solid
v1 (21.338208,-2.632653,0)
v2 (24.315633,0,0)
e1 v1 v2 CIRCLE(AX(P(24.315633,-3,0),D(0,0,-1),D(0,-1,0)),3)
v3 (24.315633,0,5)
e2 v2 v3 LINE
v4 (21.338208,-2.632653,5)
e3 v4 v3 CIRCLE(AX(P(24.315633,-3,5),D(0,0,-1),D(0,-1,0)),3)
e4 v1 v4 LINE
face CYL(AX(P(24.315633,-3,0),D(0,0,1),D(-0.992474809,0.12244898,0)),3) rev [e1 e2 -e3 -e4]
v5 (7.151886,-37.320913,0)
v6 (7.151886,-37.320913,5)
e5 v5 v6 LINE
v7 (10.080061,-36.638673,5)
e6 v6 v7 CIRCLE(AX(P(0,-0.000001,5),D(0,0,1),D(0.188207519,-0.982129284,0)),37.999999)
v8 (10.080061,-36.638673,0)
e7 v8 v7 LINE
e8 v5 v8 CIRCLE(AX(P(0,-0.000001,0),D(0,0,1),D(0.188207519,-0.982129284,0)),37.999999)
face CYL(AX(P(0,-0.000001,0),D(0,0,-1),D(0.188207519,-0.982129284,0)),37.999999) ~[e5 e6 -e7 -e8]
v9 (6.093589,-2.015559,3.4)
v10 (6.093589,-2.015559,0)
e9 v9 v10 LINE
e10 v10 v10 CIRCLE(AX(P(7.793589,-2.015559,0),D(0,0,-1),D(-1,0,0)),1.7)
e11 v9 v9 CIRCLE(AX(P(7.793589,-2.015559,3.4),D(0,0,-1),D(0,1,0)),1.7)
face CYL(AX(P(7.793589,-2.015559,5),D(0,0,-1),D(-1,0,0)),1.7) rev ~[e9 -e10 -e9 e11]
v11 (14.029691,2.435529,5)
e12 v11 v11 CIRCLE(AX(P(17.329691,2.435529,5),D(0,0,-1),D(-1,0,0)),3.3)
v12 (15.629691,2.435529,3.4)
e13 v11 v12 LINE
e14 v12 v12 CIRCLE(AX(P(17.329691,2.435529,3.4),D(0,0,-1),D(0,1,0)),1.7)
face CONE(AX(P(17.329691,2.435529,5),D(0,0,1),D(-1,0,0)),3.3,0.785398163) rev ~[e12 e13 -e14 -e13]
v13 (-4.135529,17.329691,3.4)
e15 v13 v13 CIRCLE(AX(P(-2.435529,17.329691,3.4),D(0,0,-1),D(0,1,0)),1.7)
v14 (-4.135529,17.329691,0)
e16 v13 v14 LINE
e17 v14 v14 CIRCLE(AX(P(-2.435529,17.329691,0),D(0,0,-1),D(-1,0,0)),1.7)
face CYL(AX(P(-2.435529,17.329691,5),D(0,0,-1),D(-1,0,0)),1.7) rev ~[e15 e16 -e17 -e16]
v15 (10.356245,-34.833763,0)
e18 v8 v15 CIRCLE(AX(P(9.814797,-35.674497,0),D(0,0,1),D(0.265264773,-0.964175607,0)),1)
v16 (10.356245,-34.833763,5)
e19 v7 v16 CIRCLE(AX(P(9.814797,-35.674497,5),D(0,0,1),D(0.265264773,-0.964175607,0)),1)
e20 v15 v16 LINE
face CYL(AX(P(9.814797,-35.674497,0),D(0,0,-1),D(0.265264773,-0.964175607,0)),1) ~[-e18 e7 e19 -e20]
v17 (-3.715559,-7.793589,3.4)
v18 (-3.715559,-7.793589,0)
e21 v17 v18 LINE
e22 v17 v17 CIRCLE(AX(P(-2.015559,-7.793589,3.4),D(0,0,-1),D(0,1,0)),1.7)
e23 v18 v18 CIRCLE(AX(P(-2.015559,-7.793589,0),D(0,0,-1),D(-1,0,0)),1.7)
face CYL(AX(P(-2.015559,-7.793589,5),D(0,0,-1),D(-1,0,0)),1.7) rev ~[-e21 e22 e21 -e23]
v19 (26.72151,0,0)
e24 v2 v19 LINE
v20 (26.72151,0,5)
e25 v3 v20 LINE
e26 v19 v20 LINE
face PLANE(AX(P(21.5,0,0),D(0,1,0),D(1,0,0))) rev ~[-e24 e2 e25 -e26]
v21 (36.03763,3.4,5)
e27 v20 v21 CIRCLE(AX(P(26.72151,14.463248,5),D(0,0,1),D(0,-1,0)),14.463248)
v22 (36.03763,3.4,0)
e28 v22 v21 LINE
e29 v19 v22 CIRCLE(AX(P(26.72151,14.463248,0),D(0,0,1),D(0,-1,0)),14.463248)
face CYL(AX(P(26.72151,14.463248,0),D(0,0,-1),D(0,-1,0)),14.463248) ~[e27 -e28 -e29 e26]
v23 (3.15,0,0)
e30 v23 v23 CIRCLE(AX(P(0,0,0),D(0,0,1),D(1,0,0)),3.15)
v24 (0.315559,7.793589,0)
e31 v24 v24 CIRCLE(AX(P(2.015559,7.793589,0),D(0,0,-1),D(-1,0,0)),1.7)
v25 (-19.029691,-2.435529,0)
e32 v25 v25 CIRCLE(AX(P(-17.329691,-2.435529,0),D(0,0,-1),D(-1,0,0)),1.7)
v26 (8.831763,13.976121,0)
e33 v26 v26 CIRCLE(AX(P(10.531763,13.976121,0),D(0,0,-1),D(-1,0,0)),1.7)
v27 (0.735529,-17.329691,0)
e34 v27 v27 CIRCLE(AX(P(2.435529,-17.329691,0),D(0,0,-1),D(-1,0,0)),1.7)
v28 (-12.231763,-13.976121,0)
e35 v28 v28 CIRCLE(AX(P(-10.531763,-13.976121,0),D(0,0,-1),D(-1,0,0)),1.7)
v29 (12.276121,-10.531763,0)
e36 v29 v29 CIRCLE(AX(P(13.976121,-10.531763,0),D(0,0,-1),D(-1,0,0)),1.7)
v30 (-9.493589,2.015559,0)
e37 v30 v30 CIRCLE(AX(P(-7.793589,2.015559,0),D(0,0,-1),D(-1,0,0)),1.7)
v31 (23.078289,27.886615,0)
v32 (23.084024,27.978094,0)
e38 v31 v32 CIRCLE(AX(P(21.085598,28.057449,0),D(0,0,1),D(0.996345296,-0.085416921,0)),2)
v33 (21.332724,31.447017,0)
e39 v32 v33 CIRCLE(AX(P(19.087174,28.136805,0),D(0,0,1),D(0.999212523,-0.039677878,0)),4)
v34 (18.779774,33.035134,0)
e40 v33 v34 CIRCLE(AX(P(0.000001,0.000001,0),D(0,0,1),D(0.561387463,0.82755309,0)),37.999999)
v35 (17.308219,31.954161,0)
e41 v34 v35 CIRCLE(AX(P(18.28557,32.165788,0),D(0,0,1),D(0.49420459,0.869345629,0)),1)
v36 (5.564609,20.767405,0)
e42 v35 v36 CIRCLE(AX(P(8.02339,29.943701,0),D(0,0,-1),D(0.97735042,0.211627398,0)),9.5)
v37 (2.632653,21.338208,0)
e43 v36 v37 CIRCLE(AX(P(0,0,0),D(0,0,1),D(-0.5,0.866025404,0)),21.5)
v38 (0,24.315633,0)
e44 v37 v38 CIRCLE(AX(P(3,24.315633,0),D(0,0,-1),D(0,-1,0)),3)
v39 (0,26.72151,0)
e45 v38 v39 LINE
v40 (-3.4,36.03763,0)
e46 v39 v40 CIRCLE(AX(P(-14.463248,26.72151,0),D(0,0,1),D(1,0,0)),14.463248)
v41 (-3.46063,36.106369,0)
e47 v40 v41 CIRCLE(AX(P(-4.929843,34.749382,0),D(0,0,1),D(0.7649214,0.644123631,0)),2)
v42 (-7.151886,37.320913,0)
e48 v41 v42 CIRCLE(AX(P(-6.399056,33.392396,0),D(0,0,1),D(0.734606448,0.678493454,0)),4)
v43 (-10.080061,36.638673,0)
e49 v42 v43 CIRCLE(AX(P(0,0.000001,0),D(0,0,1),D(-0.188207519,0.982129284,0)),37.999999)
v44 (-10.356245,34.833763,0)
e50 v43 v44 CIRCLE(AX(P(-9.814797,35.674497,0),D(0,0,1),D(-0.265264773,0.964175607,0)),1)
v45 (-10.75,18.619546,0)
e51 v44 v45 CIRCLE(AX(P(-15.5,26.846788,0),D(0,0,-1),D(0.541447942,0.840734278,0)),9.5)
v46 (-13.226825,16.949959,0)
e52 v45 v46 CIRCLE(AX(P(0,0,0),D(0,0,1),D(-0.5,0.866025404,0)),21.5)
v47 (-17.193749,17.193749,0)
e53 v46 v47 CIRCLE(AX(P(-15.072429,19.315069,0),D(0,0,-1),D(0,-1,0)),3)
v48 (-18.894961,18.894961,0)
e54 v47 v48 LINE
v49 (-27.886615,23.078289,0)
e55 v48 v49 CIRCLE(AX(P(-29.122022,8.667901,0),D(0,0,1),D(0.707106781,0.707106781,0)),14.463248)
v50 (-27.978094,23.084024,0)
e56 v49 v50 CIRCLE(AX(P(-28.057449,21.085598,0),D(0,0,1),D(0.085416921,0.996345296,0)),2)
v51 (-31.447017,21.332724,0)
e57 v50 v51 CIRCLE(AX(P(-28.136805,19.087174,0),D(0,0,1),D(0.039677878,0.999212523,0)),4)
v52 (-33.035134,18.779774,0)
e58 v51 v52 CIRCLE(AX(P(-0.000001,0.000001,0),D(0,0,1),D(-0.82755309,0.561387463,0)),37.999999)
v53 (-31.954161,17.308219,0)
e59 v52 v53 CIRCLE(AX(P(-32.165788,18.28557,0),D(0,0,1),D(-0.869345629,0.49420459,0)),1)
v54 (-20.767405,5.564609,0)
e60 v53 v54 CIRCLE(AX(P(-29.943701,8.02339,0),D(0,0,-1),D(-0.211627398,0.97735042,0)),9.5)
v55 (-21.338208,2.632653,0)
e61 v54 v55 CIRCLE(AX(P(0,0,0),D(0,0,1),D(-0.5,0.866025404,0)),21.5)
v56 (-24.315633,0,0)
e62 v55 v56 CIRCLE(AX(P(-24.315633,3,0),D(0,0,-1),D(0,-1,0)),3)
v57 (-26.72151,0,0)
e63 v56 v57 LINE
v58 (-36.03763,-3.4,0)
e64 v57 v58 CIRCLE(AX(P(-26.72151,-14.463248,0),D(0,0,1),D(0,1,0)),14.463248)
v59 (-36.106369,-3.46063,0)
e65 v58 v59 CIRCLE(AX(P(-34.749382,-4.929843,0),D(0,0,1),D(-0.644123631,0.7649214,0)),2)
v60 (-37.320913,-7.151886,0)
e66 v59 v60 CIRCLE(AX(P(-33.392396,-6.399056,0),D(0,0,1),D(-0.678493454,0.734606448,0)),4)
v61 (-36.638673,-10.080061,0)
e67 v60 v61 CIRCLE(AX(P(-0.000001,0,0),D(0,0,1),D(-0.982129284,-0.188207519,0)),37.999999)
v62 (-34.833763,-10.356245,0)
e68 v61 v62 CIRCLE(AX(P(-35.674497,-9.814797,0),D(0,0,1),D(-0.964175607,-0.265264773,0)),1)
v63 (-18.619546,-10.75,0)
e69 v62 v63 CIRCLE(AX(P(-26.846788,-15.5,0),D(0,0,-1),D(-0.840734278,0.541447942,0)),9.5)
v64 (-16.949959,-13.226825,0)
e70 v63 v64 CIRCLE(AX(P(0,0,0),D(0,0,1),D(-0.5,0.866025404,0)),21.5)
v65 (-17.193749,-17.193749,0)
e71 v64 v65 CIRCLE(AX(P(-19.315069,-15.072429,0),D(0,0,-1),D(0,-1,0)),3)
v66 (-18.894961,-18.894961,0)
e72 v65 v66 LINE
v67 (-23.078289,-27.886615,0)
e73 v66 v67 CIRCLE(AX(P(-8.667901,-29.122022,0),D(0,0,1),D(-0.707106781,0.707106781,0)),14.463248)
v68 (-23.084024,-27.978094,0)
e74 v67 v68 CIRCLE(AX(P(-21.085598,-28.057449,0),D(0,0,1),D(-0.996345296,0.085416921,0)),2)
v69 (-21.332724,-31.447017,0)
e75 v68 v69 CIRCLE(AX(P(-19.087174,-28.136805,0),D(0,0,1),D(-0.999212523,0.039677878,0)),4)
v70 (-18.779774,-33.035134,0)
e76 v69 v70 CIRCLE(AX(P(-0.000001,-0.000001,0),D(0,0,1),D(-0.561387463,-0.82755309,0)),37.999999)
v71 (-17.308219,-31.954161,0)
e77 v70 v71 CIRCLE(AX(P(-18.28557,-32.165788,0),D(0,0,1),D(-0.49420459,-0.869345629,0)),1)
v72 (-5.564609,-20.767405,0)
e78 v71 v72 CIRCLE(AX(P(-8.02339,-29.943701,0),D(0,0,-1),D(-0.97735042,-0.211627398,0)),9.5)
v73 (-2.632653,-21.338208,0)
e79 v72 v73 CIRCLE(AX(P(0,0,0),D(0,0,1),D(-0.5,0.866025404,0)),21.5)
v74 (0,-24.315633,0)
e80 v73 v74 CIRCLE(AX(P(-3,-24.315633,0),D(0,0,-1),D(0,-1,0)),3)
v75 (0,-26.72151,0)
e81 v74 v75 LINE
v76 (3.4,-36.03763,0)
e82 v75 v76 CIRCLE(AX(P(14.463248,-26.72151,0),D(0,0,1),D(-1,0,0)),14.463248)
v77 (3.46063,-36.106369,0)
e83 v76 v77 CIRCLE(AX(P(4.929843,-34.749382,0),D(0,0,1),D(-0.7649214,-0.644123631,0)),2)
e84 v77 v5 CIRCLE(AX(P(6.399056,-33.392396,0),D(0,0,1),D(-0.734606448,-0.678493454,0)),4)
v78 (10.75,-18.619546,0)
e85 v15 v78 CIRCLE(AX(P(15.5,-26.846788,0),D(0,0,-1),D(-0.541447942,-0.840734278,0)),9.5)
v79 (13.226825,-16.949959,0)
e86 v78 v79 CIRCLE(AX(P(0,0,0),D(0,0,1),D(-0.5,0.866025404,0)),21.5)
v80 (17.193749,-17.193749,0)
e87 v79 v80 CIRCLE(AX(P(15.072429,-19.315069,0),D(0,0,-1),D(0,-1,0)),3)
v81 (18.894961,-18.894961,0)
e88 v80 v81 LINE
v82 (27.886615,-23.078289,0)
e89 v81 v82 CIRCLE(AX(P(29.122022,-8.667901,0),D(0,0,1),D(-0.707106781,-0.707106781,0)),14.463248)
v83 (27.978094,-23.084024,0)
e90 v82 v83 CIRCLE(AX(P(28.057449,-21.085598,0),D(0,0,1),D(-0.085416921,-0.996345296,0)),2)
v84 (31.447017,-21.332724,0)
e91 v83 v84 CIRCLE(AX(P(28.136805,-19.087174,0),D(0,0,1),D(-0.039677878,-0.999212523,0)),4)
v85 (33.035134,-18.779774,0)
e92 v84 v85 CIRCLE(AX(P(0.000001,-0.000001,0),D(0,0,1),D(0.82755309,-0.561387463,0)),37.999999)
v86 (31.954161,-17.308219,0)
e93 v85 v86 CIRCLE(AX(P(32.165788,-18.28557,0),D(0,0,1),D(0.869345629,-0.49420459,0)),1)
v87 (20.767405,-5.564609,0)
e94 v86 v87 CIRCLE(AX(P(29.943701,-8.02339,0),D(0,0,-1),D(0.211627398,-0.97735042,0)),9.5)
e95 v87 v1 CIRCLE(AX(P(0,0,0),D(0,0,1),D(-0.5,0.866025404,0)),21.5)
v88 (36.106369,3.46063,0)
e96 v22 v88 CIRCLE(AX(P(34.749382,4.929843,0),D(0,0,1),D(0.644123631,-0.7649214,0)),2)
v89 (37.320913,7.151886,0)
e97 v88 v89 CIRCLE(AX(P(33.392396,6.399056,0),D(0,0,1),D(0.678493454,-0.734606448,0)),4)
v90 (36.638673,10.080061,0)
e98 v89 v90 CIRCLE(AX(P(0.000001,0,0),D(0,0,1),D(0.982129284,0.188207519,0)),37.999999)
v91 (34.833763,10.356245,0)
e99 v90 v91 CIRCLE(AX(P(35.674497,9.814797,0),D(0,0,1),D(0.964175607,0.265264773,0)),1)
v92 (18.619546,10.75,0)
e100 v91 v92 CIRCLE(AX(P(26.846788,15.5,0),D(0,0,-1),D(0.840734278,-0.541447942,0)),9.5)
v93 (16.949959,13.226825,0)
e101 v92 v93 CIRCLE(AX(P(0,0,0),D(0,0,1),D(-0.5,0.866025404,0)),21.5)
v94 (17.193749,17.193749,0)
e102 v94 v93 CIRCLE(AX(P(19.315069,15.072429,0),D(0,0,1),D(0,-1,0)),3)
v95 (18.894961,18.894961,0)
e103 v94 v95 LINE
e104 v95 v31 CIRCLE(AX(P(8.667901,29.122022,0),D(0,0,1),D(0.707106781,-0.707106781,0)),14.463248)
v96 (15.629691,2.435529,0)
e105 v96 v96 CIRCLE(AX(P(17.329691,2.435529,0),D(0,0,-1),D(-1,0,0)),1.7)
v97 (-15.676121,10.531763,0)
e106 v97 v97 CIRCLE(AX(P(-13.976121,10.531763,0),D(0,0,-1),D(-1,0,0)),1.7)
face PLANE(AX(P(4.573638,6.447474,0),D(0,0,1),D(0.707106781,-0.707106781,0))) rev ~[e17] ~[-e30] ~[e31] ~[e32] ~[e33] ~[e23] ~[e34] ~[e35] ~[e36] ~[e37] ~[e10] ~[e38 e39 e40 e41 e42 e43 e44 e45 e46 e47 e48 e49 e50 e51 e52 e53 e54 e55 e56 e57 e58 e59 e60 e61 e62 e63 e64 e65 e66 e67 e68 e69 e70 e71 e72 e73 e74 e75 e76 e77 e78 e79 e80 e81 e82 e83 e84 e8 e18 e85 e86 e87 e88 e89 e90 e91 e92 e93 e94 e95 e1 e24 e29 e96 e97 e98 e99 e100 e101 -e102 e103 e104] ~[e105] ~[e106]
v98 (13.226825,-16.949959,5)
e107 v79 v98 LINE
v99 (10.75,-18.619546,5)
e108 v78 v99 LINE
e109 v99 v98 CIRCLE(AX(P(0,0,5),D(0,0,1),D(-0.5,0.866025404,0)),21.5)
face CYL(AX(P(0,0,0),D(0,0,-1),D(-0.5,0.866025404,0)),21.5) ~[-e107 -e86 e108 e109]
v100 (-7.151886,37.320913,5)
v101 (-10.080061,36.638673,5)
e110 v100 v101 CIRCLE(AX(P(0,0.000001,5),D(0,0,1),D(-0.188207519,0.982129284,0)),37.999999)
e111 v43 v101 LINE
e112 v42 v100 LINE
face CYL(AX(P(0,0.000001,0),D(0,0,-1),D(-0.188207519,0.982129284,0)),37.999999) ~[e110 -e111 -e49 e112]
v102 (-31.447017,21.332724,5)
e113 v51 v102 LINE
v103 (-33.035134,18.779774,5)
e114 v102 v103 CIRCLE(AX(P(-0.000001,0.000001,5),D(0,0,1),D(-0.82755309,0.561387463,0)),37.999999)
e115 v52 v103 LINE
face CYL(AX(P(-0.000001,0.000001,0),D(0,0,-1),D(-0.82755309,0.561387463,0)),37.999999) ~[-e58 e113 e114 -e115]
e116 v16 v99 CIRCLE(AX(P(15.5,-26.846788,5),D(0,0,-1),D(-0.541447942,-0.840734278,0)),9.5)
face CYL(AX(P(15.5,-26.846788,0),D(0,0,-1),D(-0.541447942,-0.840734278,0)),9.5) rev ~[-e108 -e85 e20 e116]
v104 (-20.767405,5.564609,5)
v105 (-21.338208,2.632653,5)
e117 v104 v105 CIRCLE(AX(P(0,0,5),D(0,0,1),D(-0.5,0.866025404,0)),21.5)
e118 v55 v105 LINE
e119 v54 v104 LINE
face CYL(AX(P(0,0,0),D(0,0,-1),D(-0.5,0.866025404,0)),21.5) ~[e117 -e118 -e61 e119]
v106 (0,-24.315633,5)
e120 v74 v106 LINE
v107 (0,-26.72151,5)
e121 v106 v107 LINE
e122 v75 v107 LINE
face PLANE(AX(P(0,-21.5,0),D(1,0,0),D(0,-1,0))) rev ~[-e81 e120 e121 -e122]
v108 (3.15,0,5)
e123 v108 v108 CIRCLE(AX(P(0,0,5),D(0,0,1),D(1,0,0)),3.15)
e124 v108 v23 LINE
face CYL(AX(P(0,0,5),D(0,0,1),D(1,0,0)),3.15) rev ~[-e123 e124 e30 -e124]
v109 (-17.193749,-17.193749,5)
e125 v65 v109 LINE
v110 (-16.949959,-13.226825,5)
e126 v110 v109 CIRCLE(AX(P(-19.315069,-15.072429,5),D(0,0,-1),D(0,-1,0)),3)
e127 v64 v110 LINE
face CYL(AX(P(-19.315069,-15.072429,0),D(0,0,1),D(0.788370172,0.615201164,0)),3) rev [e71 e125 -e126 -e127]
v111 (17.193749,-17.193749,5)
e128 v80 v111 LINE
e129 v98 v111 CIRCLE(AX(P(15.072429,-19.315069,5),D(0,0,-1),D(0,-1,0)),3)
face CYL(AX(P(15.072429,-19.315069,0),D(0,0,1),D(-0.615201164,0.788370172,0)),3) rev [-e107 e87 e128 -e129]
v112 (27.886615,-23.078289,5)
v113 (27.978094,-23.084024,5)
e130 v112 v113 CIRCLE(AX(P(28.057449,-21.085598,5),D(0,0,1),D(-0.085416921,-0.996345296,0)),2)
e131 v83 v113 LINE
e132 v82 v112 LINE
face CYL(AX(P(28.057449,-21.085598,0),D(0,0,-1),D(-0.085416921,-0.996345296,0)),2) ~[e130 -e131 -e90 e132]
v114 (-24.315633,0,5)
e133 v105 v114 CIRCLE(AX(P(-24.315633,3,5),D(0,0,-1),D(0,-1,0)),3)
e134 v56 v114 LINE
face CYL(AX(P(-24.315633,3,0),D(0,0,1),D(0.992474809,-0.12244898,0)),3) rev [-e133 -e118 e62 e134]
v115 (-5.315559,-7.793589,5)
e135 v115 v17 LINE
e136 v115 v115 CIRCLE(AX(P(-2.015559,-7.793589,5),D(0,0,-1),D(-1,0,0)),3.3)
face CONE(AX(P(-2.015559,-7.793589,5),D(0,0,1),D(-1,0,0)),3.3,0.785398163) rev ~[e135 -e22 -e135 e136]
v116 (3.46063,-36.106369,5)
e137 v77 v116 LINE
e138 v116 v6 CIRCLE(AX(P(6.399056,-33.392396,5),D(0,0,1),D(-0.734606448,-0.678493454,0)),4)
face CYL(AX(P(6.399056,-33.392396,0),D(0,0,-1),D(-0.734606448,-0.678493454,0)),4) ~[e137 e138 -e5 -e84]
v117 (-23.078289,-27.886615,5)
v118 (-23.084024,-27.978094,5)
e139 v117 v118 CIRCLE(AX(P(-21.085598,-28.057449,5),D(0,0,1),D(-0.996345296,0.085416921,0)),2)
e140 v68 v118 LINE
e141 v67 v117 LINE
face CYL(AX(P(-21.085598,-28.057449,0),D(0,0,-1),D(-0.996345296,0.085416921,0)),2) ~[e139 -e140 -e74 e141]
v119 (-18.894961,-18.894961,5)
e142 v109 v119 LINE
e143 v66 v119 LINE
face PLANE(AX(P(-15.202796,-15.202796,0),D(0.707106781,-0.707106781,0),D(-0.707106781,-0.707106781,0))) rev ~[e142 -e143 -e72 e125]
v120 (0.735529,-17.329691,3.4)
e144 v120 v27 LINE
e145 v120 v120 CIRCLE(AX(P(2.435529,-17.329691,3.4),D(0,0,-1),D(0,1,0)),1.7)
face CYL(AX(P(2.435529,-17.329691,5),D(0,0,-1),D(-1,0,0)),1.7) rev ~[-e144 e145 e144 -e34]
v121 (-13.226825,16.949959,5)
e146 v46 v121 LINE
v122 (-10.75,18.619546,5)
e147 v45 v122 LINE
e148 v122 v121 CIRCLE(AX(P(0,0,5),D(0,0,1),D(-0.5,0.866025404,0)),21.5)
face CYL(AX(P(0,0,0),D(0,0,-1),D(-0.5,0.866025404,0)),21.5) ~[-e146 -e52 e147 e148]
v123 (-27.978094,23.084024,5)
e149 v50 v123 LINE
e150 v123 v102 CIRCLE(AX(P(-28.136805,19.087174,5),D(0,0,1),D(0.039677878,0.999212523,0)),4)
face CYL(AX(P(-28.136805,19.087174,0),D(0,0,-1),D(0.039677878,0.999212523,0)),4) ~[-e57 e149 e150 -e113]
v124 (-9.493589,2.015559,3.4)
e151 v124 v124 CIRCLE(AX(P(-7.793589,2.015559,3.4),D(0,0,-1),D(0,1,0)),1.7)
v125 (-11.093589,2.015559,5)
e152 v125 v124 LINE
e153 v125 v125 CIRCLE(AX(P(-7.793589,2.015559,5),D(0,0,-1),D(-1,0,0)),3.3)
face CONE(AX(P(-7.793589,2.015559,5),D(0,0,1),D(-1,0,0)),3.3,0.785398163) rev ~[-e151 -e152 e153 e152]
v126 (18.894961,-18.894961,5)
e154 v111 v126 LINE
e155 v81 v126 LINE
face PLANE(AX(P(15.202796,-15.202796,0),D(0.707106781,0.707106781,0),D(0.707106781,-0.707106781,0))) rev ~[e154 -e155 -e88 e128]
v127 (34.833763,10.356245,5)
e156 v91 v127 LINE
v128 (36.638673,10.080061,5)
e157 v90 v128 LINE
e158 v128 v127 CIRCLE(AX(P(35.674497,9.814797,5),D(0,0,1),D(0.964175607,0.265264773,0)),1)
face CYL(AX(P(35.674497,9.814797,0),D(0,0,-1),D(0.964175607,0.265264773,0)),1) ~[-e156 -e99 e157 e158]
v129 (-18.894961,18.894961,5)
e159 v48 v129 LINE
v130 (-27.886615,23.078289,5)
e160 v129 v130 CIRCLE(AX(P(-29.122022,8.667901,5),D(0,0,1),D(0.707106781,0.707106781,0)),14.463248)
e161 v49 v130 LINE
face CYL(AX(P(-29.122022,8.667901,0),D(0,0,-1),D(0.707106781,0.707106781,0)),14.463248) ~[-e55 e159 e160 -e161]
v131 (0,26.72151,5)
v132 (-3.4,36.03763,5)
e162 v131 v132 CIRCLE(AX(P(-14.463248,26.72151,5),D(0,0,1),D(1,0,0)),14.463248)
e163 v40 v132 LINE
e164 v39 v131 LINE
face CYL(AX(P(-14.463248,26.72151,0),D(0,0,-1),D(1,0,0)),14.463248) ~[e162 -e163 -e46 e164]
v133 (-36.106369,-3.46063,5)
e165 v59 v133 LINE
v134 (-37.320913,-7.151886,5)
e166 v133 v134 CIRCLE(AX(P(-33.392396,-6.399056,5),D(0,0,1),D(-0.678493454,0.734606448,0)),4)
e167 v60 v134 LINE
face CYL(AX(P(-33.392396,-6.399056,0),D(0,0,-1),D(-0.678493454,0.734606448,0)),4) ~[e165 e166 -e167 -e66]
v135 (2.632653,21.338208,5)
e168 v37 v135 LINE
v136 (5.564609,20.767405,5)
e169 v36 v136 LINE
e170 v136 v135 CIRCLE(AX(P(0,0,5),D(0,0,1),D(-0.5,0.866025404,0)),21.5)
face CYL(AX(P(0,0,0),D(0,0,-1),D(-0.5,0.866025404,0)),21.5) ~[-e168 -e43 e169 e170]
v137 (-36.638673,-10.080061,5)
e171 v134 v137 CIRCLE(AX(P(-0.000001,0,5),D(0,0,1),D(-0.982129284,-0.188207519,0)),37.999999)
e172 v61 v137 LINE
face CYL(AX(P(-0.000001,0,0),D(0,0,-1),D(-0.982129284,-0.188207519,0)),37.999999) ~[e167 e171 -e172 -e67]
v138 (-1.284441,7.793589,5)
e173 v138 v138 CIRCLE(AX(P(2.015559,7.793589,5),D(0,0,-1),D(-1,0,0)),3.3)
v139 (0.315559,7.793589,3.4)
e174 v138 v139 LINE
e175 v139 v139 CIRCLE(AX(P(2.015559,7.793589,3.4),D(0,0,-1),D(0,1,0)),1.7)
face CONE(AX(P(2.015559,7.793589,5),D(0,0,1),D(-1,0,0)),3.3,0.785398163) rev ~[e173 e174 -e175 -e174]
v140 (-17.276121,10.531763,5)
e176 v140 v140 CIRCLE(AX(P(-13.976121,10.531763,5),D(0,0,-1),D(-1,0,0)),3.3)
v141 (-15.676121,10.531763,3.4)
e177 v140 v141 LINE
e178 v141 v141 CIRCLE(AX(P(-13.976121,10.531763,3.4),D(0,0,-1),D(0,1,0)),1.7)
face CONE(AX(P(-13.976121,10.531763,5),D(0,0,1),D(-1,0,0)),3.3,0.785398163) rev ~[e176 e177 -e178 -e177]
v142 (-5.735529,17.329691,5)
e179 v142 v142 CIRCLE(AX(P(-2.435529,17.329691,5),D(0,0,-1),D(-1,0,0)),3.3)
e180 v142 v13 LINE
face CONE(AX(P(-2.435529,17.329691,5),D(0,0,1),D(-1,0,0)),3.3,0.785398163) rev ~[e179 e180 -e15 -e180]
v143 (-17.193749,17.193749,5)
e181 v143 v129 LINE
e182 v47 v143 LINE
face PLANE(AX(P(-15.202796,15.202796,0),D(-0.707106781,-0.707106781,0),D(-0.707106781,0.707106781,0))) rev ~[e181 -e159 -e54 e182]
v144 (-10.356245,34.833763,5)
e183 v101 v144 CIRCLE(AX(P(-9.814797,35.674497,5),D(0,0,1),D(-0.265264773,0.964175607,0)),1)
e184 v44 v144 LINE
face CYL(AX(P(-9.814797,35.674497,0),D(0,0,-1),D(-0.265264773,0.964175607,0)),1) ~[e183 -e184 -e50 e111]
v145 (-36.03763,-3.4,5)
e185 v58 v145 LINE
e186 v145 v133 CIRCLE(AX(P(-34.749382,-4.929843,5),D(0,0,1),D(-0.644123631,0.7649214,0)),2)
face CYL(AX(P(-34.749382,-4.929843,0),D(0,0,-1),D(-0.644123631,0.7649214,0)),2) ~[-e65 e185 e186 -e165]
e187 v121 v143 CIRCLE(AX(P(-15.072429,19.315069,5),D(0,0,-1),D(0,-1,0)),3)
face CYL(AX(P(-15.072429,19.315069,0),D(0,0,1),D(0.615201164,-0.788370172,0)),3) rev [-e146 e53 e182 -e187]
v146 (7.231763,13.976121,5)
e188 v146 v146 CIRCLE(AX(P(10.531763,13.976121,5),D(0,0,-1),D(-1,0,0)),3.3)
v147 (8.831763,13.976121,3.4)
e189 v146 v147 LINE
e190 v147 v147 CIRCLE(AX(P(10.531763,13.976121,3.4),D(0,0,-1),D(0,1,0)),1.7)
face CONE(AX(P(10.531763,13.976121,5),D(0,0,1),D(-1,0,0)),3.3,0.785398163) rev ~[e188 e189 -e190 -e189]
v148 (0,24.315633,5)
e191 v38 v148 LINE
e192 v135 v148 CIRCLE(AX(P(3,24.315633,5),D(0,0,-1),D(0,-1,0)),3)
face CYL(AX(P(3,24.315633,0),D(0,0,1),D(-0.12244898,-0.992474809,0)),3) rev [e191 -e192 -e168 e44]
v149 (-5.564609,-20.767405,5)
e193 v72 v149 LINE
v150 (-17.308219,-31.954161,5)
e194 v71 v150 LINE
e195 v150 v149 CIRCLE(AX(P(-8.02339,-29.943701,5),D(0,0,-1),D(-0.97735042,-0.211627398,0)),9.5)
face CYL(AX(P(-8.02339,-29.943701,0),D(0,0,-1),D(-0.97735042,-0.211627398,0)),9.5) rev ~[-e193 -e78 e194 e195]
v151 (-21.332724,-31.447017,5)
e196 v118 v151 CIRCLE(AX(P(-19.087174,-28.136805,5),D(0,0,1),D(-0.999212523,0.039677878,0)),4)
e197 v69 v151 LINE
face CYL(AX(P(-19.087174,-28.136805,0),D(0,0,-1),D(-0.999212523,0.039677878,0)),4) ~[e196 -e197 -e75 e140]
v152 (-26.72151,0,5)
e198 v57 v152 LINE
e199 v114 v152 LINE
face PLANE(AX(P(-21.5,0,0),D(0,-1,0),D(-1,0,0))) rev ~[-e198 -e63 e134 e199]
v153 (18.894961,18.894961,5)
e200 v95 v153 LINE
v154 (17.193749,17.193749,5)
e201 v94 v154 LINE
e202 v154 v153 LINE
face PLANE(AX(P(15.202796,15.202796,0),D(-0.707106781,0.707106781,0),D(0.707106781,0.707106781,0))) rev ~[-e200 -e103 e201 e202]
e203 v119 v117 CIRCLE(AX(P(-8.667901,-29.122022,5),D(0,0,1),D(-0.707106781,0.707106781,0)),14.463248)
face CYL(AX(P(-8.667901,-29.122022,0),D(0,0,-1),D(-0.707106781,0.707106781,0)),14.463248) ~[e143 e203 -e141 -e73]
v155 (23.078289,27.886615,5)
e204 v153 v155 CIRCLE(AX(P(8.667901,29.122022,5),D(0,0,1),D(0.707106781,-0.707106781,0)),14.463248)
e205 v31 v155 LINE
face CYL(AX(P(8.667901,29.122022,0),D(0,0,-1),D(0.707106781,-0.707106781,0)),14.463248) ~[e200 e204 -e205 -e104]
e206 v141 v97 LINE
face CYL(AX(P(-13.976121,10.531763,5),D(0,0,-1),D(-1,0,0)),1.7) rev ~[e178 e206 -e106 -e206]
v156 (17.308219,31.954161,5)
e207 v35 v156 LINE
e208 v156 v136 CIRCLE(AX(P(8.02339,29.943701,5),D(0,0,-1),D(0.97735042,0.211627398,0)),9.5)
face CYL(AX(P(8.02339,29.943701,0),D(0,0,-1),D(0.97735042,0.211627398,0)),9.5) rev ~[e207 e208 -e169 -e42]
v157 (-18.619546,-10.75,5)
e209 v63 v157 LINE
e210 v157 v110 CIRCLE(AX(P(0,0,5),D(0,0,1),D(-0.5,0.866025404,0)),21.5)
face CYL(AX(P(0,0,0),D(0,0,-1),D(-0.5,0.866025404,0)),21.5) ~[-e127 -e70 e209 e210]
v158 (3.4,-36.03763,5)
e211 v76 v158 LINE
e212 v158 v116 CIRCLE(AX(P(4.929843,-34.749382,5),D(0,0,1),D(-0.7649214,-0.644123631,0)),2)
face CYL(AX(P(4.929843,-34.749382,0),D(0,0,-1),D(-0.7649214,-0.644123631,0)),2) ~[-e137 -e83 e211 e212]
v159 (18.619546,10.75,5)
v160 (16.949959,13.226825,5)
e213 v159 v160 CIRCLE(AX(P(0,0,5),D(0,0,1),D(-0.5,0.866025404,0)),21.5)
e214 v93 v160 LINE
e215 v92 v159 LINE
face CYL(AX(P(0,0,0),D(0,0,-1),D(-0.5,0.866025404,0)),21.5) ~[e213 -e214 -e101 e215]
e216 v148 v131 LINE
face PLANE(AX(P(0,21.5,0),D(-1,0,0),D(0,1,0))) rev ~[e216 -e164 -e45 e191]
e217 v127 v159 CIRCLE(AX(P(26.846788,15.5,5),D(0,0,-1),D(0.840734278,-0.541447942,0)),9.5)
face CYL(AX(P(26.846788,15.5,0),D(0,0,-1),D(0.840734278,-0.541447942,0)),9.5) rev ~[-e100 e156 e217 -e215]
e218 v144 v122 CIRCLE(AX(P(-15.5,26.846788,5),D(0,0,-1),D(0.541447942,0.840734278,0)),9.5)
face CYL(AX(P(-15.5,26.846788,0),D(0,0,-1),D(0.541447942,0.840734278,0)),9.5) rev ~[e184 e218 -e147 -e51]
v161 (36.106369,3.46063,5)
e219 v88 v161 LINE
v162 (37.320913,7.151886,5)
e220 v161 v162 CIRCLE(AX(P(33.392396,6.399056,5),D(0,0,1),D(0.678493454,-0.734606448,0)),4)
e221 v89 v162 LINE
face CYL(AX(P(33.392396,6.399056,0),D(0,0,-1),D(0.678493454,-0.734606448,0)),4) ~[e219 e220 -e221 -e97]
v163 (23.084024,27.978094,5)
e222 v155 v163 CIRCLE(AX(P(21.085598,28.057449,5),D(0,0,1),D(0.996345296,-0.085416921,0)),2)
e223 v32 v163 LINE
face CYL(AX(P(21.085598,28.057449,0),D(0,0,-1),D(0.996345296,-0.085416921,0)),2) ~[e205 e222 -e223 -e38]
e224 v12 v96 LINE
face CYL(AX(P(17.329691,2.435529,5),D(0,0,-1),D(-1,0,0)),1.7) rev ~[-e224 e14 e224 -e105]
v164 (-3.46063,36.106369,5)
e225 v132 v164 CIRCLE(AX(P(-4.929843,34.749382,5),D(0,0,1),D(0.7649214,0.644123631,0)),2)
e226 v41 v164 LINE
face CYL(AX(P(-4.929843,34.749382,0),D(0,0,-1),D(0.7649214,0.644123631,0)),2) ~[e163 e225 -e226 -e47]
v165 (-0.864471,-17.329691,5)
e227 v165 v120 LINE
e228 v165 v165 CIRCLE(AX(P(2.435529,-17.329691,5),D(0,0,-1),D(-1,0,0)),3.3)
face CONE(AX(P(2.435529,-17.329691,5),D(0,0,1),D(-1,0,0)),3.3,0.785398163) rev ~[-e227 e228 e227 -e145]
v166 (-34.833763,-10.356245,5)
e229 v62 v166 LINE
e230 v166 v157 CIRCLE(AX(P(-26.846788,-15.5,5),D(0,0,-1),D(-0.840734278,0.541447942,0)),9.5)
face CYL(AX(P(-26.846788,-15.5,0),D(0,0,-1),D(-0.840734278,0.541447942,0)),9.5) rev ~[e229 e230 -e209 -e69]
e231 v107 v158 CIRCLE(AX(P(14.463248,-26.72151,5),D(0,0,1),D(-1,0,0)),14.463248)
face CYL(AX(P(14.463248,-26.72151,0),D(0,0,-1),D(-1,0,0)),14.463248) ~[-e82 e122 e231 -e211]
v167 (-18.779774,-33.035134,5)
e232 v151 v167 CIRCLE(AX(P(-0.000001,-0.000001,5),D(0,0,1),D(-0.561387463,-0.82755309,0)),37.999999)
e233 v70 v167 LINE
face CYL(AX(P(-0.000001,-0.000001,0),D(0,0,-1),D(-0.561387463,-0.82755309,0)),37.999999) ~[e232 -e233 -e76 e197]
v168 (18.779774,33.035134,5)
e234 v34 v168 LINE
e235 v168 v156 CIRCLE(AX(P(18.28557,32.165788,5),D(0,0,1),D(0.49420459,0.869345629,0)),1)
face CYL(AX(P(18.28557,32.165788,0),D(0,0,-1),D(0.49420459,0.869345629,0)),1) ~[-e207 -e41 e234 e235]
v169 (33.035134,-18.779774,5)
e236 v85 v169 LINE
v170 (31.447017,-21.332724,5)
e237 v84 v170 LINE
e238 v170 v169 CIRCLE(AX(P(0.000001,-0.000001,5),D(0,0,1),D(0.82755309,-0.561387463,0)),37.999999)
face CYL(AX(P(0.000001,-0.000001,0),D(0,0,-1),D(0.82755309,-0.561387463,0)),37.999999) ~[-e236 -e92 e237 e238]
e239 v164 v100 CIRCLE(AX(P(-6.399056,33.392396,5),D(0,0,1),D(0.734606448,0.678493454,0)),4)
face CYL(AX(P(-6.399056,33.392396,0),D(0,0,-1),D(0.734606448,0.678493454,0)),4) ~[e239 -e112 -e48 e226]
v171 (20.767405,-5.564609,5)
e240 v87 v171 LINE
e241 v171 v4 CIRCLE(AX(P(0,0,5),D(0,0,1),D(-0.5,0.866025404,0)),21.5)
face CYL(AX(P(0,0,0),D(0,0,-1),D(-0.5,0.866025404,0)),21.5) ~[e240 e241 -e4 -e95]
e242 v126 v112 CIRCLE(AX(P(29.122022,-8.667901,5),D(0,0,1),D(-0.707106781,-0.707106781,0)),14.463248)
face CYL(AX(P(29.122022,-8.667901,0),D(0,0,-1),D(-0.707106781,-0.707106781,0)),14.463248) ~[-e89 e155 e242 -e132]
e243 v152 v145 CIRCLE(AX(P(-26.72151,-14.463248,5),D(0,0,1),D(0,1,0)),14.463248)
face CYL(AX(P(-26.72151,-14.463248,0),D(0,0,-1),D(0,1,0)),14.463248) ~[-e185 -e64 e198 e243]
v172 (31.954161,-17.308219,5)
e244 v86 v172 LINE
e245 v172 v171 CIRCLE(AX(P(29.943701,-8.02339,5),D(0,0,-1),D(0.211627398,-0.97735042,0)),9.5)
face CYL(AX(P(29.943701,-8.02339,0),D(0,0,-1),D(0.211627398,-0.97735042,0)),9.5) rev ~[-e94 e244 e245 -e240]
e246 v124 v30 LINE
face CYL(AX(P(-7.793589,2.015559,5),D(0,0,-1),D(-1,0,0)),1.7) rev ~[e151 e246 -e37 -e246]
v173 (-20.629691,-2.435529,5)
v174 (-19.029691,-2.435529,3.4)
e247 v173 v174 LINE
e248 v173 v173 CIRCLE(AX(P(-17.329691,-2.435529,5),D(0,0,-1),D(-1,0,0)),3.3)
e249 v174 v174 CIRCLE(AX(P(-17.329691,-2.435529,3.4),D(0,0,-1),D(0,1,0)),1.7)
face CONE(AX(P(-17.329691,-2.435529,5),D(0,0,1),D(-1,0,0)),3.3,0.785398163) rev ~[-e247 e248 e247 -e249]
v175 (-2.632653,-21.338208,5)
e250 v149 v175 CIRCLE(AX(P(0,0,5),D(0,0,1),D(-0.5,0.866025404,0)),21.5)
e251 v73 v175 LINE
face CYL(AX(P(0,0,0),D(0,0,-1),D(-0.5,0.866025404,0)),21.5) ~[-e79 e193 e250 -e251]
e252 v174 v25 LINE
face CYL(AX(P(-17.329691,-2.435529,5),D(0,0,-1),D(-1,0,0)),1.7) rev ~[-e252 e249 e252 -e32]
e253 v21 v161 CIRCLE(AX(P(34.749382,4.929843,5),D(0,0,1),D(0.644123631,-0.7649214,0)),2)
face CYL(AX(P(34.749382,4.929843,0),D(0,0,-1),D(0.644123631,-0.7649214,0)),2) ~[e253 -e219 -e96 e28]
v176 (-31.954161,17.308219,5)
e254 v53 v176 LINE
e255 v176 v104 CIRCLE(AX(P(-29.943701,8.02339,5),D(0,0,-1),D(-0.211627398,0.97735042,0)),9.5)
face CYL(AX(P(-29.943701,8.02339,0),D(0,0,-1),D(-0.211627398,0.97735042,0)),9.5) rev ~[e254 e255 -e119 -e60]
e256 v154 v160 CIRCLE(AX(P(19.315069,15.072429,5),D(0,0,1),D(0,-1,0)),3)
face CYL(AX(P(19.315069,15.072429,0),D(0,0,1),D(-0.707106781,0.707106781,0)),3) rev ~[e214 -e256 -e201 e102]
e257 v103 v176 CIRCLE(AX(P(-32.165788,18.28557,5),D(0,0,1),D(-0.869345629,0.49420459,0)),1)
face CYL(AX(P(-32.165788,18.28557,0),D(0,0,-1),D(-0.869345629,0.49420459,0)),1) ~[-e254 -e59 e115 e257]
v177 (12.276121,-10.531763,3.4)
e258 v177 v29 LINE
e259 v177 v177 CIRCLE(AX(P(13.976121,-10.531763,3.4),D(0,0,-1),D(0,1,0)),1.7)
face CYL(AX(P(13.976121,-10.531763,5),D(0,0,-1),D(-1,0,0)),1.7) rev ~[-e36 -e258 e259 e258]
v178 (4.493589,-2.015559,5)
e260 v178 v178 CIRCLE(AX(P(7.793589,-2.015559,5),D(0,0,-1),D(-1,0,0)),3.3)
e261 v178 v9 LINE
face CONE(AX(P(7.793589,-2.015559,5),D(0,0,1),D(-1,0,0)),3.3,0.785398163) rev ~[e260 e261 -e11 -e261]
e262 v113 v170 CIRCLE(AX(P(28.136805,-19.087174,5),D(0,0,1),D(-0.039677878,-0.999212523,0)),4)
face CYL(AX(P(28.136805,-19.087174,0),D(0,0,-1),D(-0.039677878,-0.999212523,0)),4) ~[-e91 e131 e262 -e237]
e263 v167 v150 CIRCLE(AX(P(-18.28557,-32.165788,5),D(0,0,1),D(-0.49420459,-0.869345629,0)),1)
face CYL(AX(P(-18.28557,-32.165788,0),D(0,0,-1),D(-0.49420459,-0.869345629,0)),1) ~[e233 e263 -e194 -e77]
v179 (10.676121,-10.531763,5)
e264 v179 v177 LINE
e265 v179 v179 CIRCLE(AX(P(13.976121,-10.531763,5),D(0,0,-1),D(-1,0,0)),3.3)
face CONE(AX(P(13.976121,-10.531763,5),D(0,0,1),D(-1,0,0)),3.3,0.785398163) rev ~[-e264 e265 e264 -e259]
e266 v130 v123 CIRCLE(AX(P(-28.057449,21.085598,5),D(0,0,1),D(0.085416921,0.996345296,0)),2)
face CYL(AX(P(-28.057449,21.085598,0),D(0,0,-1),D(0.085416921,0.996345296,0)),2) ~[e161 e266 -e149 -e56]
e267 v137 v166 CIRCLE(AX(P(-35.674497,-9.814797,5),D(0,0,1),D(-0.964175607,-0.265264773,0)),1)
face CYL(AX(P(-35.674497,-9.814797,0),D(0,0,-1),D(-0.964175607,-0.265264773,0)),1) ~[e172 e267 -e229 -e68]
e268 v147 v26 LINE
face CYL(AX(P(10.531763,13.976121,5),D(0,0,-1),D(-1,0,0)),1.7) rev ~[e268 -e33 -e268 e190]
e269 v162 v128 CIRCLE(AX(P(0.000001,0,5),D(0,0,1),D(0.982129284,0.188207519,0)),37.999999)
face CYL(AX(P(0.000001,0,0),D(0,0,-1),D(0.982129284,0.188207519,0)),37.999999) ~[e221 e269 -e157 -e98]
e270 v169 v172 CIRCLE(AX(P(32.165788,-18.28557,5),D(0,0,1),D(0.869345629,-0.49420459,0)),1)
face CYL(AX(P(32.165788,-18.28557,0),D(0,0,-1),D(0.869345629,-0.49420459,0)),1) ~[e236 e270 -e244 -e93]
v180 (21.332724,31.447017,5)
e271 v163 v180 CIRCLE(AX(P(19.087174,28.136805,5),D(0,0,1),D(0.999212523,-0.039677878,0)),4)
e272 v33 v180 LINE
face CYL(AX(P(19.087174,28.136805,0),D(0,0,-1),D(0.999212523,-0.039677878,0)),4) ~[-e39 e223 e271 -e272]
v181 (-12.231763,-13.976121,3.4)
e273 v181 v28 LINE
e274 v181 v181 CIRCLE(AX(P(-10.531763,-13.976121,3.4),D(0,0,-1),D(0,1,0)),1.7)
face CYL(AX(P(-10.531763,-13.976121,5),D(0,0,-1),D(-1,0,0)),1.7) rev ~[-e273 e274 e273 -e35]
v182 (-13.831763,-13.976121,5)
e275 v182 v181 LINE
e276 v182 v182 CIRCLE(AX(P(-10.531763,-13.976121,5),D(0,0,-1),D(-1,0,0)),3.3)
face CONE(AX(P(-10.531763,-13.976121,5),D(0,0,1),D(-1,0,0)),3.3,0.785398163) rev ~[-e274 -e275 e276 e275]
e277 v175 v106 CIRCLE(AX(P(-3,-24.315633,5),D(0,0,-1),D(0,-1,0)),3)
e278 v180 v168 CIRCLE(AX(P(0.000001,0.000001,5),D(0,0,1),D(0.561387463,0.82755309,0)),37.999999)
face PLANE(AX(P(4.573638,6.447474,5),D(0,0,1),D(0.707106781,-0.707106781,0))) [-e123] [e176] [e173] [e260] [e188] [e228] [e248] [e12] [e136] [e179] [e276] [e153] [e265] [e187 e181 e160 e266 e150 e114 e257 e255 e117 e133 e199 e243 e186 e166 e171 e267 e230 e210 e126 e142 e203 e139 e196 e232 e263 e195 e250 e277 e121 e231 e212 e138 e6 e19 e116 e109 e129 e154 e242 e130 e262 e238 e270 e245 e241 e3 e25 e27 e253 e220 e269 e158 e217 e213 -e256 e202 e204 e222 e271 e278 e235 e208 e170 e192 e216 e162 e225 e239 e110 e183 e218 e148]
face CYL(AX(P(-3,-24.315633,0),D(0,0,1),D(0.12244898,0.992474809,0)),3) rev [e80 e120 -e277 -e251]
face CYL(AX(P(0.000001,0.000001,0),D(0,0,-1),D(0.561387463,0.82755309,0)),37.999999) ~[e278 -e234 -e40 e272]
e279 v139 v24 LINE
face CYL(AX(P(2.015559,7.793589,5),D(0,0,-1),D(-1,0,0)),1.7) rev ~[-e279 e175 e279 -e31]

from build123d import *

# Parameters (mm, degrees)
EXTRUDE_1_DEPTH           = 5
PATTERN_CIRCULAR_1_COUNT  = 8
FILLET_1_R                = 3
SKETCH_4_R                = 1.6
SKETCH_4_R_2              = 1.65
SKETCH_4_R_3              = 3.15
CUT_EXTRUDE_2_DEPTH       = 5
HOLE_WIZARD_1_D           = 3.4
HOLE_WIZARD_1_CSINK_D     = 6.6
HOLE_WIZARD_1_CSINK_ANGLE = 90


with BuildPart() as part:
    # 草图1 → 凸台-拉伸1 (new body)
    with BuildSketch(Plane.XY):
        with BuildLine():
            ThreePointArc((-10.356244554, 34.83376316), (-6.00280003, 26.616152007), (-10.75, 18.619546181))
            ThreePointArc((-10.75, 18.619546181), (5.56460947, -20.767405265), (0, 21.5))
            Line((0, 21.5), (0, 26.721510215))
            ThreePointArc((0, 26.721510215), (-0.876562566, 31.680090761), (-3.4, 36.037629801))
            ThreePointArc((-3.4, 36.037629801), (-3.429921119, 36.072346995), (-3.460629906, 36.106369449))
            ThreePointArc((-3.460629906, 36.106369449), (-5.148861305, 37.192002716), (-7.15188578, 37.320912767))
            ThreePointArc((-7.15188578, 37.320912767), (-8.622723673, 37.00876432), (-10.080061386, 36.638673044))
            ThreePointArc((-10.080061386, 36.638673044), (-10.803291061, 35.82575459), (-10.356244554, 34.83376316))
        make_face()
    extrude_1 = extrude(amount=EXTRUDE_1_DEPTH)

    # 阵列(圆周)1: 凸台-拉伸1 ×8 about axis
    pattern_circular_1_axis = Axis((0, 0, 0), (0, 0, 1))
    for i in range(1, PATTERN_CIRCULAR_1_COUNT):
        add(extrude_1.rotate(pattern_circular_1_axis, i * 360 / PATTERN_CIRCULAR_1_COUNT))

    # 圆角1
    fillet_1_edges = [part.edges().sort_by_distance(p)[0] for p in [
        (0, 21.5, 2.5),
        (-15.202795796, 15.202795796, 2.5),
        (-15.202795796, -15.202795796, 2.5),
        (15.202795796, -15.202795796, 2.5),
        (15.202795796, 15.202795796, 2.5),
        (21.5, 0, 2.5),
        (0, -21.5, 2.5),
        (-21.5, 0, 2.5),
    ]]
    fillet(fillet_1_edges, radius=FILLET_1_R)

    # 草图4 → 切除-拉伸2 (cut)
    with BuildSketch(Plane.XY.offset(5)):
        with Locations((-2.435529267, 17.329691203)):
            Circle(SKETCH_4_R)
        with Locations((10.531762905, 13.976121426)):
            Circle(SKETCH_4_R)
        with Locations((17.329691203, 2.435529267)):
            Circle(SKETCH_4_R)
        with Locations((13.976121426, -10.531762905)):
            Circle(SKETCH_4_R)
        with Locations((2.435529267, -17.329691203)):
            Circle(SKETCH_4_R)
        with Locations((-10.531762905, -13.976121426)):
            Circle(SKETCH_4_R)
        with Locations((-17.329691203, -2.435529267)):
            Circle(SKETCH_4_R)
        with Locations((-13.976121426, 10.531762905)):
            Circle(SKETCH_4_R)
        with Locations((2.015559033, 7.793588505)):
            Circle(SKETCH_4_R_2)
        with Locations((7.793588505, -2.015559033)):
            Circle(SKETCH_4_R_2)
        with Locations((-2.015559033, -7.793588505)):
            Circle(SKETCH_4_R_2)
        with Locations((-7.793588505, 2.015559033)):
            Circle(SKETCH_4_R_2)
        Circle(SKETCH_4_R_3)
    extrude(amount=-CUT_EXTRUDE_2_DEPTH, mode=Mode.SUBTRACT)

    # 打孔尺寸(%根据十字)槽半沉头木螺钉的类型1 (through all)
    with Locations(Plane(origin=(-13.976121426, 10.531762905, 5), x_dir=(1, 0, 0), z_dir=(0, 0, 1))):
        with Locations((0, 0), (11.540592159, 6.797928298), (24.507884331, 3.444358521), (31.305812629, -8.096233638), (27.952242852, -21.06352581), (16.411650693, -27.861454108), (3.444358521, -24.507884331), (-3.353569777, -12.967292172), (6.182532921, -8.516203872), (15.991680459, -2.7381744), (21.769709931, -12.547321938), (11.960562393, -18.32535141)):
            CounterSinkHole(HOLE_WIZARD_1_D / 2, HOLE_WIZARD_1_CSINK_D / 2, counter_sink_angle=HOLE_WIZARD_1_CSINK_ANGLE)


solid = part.part
